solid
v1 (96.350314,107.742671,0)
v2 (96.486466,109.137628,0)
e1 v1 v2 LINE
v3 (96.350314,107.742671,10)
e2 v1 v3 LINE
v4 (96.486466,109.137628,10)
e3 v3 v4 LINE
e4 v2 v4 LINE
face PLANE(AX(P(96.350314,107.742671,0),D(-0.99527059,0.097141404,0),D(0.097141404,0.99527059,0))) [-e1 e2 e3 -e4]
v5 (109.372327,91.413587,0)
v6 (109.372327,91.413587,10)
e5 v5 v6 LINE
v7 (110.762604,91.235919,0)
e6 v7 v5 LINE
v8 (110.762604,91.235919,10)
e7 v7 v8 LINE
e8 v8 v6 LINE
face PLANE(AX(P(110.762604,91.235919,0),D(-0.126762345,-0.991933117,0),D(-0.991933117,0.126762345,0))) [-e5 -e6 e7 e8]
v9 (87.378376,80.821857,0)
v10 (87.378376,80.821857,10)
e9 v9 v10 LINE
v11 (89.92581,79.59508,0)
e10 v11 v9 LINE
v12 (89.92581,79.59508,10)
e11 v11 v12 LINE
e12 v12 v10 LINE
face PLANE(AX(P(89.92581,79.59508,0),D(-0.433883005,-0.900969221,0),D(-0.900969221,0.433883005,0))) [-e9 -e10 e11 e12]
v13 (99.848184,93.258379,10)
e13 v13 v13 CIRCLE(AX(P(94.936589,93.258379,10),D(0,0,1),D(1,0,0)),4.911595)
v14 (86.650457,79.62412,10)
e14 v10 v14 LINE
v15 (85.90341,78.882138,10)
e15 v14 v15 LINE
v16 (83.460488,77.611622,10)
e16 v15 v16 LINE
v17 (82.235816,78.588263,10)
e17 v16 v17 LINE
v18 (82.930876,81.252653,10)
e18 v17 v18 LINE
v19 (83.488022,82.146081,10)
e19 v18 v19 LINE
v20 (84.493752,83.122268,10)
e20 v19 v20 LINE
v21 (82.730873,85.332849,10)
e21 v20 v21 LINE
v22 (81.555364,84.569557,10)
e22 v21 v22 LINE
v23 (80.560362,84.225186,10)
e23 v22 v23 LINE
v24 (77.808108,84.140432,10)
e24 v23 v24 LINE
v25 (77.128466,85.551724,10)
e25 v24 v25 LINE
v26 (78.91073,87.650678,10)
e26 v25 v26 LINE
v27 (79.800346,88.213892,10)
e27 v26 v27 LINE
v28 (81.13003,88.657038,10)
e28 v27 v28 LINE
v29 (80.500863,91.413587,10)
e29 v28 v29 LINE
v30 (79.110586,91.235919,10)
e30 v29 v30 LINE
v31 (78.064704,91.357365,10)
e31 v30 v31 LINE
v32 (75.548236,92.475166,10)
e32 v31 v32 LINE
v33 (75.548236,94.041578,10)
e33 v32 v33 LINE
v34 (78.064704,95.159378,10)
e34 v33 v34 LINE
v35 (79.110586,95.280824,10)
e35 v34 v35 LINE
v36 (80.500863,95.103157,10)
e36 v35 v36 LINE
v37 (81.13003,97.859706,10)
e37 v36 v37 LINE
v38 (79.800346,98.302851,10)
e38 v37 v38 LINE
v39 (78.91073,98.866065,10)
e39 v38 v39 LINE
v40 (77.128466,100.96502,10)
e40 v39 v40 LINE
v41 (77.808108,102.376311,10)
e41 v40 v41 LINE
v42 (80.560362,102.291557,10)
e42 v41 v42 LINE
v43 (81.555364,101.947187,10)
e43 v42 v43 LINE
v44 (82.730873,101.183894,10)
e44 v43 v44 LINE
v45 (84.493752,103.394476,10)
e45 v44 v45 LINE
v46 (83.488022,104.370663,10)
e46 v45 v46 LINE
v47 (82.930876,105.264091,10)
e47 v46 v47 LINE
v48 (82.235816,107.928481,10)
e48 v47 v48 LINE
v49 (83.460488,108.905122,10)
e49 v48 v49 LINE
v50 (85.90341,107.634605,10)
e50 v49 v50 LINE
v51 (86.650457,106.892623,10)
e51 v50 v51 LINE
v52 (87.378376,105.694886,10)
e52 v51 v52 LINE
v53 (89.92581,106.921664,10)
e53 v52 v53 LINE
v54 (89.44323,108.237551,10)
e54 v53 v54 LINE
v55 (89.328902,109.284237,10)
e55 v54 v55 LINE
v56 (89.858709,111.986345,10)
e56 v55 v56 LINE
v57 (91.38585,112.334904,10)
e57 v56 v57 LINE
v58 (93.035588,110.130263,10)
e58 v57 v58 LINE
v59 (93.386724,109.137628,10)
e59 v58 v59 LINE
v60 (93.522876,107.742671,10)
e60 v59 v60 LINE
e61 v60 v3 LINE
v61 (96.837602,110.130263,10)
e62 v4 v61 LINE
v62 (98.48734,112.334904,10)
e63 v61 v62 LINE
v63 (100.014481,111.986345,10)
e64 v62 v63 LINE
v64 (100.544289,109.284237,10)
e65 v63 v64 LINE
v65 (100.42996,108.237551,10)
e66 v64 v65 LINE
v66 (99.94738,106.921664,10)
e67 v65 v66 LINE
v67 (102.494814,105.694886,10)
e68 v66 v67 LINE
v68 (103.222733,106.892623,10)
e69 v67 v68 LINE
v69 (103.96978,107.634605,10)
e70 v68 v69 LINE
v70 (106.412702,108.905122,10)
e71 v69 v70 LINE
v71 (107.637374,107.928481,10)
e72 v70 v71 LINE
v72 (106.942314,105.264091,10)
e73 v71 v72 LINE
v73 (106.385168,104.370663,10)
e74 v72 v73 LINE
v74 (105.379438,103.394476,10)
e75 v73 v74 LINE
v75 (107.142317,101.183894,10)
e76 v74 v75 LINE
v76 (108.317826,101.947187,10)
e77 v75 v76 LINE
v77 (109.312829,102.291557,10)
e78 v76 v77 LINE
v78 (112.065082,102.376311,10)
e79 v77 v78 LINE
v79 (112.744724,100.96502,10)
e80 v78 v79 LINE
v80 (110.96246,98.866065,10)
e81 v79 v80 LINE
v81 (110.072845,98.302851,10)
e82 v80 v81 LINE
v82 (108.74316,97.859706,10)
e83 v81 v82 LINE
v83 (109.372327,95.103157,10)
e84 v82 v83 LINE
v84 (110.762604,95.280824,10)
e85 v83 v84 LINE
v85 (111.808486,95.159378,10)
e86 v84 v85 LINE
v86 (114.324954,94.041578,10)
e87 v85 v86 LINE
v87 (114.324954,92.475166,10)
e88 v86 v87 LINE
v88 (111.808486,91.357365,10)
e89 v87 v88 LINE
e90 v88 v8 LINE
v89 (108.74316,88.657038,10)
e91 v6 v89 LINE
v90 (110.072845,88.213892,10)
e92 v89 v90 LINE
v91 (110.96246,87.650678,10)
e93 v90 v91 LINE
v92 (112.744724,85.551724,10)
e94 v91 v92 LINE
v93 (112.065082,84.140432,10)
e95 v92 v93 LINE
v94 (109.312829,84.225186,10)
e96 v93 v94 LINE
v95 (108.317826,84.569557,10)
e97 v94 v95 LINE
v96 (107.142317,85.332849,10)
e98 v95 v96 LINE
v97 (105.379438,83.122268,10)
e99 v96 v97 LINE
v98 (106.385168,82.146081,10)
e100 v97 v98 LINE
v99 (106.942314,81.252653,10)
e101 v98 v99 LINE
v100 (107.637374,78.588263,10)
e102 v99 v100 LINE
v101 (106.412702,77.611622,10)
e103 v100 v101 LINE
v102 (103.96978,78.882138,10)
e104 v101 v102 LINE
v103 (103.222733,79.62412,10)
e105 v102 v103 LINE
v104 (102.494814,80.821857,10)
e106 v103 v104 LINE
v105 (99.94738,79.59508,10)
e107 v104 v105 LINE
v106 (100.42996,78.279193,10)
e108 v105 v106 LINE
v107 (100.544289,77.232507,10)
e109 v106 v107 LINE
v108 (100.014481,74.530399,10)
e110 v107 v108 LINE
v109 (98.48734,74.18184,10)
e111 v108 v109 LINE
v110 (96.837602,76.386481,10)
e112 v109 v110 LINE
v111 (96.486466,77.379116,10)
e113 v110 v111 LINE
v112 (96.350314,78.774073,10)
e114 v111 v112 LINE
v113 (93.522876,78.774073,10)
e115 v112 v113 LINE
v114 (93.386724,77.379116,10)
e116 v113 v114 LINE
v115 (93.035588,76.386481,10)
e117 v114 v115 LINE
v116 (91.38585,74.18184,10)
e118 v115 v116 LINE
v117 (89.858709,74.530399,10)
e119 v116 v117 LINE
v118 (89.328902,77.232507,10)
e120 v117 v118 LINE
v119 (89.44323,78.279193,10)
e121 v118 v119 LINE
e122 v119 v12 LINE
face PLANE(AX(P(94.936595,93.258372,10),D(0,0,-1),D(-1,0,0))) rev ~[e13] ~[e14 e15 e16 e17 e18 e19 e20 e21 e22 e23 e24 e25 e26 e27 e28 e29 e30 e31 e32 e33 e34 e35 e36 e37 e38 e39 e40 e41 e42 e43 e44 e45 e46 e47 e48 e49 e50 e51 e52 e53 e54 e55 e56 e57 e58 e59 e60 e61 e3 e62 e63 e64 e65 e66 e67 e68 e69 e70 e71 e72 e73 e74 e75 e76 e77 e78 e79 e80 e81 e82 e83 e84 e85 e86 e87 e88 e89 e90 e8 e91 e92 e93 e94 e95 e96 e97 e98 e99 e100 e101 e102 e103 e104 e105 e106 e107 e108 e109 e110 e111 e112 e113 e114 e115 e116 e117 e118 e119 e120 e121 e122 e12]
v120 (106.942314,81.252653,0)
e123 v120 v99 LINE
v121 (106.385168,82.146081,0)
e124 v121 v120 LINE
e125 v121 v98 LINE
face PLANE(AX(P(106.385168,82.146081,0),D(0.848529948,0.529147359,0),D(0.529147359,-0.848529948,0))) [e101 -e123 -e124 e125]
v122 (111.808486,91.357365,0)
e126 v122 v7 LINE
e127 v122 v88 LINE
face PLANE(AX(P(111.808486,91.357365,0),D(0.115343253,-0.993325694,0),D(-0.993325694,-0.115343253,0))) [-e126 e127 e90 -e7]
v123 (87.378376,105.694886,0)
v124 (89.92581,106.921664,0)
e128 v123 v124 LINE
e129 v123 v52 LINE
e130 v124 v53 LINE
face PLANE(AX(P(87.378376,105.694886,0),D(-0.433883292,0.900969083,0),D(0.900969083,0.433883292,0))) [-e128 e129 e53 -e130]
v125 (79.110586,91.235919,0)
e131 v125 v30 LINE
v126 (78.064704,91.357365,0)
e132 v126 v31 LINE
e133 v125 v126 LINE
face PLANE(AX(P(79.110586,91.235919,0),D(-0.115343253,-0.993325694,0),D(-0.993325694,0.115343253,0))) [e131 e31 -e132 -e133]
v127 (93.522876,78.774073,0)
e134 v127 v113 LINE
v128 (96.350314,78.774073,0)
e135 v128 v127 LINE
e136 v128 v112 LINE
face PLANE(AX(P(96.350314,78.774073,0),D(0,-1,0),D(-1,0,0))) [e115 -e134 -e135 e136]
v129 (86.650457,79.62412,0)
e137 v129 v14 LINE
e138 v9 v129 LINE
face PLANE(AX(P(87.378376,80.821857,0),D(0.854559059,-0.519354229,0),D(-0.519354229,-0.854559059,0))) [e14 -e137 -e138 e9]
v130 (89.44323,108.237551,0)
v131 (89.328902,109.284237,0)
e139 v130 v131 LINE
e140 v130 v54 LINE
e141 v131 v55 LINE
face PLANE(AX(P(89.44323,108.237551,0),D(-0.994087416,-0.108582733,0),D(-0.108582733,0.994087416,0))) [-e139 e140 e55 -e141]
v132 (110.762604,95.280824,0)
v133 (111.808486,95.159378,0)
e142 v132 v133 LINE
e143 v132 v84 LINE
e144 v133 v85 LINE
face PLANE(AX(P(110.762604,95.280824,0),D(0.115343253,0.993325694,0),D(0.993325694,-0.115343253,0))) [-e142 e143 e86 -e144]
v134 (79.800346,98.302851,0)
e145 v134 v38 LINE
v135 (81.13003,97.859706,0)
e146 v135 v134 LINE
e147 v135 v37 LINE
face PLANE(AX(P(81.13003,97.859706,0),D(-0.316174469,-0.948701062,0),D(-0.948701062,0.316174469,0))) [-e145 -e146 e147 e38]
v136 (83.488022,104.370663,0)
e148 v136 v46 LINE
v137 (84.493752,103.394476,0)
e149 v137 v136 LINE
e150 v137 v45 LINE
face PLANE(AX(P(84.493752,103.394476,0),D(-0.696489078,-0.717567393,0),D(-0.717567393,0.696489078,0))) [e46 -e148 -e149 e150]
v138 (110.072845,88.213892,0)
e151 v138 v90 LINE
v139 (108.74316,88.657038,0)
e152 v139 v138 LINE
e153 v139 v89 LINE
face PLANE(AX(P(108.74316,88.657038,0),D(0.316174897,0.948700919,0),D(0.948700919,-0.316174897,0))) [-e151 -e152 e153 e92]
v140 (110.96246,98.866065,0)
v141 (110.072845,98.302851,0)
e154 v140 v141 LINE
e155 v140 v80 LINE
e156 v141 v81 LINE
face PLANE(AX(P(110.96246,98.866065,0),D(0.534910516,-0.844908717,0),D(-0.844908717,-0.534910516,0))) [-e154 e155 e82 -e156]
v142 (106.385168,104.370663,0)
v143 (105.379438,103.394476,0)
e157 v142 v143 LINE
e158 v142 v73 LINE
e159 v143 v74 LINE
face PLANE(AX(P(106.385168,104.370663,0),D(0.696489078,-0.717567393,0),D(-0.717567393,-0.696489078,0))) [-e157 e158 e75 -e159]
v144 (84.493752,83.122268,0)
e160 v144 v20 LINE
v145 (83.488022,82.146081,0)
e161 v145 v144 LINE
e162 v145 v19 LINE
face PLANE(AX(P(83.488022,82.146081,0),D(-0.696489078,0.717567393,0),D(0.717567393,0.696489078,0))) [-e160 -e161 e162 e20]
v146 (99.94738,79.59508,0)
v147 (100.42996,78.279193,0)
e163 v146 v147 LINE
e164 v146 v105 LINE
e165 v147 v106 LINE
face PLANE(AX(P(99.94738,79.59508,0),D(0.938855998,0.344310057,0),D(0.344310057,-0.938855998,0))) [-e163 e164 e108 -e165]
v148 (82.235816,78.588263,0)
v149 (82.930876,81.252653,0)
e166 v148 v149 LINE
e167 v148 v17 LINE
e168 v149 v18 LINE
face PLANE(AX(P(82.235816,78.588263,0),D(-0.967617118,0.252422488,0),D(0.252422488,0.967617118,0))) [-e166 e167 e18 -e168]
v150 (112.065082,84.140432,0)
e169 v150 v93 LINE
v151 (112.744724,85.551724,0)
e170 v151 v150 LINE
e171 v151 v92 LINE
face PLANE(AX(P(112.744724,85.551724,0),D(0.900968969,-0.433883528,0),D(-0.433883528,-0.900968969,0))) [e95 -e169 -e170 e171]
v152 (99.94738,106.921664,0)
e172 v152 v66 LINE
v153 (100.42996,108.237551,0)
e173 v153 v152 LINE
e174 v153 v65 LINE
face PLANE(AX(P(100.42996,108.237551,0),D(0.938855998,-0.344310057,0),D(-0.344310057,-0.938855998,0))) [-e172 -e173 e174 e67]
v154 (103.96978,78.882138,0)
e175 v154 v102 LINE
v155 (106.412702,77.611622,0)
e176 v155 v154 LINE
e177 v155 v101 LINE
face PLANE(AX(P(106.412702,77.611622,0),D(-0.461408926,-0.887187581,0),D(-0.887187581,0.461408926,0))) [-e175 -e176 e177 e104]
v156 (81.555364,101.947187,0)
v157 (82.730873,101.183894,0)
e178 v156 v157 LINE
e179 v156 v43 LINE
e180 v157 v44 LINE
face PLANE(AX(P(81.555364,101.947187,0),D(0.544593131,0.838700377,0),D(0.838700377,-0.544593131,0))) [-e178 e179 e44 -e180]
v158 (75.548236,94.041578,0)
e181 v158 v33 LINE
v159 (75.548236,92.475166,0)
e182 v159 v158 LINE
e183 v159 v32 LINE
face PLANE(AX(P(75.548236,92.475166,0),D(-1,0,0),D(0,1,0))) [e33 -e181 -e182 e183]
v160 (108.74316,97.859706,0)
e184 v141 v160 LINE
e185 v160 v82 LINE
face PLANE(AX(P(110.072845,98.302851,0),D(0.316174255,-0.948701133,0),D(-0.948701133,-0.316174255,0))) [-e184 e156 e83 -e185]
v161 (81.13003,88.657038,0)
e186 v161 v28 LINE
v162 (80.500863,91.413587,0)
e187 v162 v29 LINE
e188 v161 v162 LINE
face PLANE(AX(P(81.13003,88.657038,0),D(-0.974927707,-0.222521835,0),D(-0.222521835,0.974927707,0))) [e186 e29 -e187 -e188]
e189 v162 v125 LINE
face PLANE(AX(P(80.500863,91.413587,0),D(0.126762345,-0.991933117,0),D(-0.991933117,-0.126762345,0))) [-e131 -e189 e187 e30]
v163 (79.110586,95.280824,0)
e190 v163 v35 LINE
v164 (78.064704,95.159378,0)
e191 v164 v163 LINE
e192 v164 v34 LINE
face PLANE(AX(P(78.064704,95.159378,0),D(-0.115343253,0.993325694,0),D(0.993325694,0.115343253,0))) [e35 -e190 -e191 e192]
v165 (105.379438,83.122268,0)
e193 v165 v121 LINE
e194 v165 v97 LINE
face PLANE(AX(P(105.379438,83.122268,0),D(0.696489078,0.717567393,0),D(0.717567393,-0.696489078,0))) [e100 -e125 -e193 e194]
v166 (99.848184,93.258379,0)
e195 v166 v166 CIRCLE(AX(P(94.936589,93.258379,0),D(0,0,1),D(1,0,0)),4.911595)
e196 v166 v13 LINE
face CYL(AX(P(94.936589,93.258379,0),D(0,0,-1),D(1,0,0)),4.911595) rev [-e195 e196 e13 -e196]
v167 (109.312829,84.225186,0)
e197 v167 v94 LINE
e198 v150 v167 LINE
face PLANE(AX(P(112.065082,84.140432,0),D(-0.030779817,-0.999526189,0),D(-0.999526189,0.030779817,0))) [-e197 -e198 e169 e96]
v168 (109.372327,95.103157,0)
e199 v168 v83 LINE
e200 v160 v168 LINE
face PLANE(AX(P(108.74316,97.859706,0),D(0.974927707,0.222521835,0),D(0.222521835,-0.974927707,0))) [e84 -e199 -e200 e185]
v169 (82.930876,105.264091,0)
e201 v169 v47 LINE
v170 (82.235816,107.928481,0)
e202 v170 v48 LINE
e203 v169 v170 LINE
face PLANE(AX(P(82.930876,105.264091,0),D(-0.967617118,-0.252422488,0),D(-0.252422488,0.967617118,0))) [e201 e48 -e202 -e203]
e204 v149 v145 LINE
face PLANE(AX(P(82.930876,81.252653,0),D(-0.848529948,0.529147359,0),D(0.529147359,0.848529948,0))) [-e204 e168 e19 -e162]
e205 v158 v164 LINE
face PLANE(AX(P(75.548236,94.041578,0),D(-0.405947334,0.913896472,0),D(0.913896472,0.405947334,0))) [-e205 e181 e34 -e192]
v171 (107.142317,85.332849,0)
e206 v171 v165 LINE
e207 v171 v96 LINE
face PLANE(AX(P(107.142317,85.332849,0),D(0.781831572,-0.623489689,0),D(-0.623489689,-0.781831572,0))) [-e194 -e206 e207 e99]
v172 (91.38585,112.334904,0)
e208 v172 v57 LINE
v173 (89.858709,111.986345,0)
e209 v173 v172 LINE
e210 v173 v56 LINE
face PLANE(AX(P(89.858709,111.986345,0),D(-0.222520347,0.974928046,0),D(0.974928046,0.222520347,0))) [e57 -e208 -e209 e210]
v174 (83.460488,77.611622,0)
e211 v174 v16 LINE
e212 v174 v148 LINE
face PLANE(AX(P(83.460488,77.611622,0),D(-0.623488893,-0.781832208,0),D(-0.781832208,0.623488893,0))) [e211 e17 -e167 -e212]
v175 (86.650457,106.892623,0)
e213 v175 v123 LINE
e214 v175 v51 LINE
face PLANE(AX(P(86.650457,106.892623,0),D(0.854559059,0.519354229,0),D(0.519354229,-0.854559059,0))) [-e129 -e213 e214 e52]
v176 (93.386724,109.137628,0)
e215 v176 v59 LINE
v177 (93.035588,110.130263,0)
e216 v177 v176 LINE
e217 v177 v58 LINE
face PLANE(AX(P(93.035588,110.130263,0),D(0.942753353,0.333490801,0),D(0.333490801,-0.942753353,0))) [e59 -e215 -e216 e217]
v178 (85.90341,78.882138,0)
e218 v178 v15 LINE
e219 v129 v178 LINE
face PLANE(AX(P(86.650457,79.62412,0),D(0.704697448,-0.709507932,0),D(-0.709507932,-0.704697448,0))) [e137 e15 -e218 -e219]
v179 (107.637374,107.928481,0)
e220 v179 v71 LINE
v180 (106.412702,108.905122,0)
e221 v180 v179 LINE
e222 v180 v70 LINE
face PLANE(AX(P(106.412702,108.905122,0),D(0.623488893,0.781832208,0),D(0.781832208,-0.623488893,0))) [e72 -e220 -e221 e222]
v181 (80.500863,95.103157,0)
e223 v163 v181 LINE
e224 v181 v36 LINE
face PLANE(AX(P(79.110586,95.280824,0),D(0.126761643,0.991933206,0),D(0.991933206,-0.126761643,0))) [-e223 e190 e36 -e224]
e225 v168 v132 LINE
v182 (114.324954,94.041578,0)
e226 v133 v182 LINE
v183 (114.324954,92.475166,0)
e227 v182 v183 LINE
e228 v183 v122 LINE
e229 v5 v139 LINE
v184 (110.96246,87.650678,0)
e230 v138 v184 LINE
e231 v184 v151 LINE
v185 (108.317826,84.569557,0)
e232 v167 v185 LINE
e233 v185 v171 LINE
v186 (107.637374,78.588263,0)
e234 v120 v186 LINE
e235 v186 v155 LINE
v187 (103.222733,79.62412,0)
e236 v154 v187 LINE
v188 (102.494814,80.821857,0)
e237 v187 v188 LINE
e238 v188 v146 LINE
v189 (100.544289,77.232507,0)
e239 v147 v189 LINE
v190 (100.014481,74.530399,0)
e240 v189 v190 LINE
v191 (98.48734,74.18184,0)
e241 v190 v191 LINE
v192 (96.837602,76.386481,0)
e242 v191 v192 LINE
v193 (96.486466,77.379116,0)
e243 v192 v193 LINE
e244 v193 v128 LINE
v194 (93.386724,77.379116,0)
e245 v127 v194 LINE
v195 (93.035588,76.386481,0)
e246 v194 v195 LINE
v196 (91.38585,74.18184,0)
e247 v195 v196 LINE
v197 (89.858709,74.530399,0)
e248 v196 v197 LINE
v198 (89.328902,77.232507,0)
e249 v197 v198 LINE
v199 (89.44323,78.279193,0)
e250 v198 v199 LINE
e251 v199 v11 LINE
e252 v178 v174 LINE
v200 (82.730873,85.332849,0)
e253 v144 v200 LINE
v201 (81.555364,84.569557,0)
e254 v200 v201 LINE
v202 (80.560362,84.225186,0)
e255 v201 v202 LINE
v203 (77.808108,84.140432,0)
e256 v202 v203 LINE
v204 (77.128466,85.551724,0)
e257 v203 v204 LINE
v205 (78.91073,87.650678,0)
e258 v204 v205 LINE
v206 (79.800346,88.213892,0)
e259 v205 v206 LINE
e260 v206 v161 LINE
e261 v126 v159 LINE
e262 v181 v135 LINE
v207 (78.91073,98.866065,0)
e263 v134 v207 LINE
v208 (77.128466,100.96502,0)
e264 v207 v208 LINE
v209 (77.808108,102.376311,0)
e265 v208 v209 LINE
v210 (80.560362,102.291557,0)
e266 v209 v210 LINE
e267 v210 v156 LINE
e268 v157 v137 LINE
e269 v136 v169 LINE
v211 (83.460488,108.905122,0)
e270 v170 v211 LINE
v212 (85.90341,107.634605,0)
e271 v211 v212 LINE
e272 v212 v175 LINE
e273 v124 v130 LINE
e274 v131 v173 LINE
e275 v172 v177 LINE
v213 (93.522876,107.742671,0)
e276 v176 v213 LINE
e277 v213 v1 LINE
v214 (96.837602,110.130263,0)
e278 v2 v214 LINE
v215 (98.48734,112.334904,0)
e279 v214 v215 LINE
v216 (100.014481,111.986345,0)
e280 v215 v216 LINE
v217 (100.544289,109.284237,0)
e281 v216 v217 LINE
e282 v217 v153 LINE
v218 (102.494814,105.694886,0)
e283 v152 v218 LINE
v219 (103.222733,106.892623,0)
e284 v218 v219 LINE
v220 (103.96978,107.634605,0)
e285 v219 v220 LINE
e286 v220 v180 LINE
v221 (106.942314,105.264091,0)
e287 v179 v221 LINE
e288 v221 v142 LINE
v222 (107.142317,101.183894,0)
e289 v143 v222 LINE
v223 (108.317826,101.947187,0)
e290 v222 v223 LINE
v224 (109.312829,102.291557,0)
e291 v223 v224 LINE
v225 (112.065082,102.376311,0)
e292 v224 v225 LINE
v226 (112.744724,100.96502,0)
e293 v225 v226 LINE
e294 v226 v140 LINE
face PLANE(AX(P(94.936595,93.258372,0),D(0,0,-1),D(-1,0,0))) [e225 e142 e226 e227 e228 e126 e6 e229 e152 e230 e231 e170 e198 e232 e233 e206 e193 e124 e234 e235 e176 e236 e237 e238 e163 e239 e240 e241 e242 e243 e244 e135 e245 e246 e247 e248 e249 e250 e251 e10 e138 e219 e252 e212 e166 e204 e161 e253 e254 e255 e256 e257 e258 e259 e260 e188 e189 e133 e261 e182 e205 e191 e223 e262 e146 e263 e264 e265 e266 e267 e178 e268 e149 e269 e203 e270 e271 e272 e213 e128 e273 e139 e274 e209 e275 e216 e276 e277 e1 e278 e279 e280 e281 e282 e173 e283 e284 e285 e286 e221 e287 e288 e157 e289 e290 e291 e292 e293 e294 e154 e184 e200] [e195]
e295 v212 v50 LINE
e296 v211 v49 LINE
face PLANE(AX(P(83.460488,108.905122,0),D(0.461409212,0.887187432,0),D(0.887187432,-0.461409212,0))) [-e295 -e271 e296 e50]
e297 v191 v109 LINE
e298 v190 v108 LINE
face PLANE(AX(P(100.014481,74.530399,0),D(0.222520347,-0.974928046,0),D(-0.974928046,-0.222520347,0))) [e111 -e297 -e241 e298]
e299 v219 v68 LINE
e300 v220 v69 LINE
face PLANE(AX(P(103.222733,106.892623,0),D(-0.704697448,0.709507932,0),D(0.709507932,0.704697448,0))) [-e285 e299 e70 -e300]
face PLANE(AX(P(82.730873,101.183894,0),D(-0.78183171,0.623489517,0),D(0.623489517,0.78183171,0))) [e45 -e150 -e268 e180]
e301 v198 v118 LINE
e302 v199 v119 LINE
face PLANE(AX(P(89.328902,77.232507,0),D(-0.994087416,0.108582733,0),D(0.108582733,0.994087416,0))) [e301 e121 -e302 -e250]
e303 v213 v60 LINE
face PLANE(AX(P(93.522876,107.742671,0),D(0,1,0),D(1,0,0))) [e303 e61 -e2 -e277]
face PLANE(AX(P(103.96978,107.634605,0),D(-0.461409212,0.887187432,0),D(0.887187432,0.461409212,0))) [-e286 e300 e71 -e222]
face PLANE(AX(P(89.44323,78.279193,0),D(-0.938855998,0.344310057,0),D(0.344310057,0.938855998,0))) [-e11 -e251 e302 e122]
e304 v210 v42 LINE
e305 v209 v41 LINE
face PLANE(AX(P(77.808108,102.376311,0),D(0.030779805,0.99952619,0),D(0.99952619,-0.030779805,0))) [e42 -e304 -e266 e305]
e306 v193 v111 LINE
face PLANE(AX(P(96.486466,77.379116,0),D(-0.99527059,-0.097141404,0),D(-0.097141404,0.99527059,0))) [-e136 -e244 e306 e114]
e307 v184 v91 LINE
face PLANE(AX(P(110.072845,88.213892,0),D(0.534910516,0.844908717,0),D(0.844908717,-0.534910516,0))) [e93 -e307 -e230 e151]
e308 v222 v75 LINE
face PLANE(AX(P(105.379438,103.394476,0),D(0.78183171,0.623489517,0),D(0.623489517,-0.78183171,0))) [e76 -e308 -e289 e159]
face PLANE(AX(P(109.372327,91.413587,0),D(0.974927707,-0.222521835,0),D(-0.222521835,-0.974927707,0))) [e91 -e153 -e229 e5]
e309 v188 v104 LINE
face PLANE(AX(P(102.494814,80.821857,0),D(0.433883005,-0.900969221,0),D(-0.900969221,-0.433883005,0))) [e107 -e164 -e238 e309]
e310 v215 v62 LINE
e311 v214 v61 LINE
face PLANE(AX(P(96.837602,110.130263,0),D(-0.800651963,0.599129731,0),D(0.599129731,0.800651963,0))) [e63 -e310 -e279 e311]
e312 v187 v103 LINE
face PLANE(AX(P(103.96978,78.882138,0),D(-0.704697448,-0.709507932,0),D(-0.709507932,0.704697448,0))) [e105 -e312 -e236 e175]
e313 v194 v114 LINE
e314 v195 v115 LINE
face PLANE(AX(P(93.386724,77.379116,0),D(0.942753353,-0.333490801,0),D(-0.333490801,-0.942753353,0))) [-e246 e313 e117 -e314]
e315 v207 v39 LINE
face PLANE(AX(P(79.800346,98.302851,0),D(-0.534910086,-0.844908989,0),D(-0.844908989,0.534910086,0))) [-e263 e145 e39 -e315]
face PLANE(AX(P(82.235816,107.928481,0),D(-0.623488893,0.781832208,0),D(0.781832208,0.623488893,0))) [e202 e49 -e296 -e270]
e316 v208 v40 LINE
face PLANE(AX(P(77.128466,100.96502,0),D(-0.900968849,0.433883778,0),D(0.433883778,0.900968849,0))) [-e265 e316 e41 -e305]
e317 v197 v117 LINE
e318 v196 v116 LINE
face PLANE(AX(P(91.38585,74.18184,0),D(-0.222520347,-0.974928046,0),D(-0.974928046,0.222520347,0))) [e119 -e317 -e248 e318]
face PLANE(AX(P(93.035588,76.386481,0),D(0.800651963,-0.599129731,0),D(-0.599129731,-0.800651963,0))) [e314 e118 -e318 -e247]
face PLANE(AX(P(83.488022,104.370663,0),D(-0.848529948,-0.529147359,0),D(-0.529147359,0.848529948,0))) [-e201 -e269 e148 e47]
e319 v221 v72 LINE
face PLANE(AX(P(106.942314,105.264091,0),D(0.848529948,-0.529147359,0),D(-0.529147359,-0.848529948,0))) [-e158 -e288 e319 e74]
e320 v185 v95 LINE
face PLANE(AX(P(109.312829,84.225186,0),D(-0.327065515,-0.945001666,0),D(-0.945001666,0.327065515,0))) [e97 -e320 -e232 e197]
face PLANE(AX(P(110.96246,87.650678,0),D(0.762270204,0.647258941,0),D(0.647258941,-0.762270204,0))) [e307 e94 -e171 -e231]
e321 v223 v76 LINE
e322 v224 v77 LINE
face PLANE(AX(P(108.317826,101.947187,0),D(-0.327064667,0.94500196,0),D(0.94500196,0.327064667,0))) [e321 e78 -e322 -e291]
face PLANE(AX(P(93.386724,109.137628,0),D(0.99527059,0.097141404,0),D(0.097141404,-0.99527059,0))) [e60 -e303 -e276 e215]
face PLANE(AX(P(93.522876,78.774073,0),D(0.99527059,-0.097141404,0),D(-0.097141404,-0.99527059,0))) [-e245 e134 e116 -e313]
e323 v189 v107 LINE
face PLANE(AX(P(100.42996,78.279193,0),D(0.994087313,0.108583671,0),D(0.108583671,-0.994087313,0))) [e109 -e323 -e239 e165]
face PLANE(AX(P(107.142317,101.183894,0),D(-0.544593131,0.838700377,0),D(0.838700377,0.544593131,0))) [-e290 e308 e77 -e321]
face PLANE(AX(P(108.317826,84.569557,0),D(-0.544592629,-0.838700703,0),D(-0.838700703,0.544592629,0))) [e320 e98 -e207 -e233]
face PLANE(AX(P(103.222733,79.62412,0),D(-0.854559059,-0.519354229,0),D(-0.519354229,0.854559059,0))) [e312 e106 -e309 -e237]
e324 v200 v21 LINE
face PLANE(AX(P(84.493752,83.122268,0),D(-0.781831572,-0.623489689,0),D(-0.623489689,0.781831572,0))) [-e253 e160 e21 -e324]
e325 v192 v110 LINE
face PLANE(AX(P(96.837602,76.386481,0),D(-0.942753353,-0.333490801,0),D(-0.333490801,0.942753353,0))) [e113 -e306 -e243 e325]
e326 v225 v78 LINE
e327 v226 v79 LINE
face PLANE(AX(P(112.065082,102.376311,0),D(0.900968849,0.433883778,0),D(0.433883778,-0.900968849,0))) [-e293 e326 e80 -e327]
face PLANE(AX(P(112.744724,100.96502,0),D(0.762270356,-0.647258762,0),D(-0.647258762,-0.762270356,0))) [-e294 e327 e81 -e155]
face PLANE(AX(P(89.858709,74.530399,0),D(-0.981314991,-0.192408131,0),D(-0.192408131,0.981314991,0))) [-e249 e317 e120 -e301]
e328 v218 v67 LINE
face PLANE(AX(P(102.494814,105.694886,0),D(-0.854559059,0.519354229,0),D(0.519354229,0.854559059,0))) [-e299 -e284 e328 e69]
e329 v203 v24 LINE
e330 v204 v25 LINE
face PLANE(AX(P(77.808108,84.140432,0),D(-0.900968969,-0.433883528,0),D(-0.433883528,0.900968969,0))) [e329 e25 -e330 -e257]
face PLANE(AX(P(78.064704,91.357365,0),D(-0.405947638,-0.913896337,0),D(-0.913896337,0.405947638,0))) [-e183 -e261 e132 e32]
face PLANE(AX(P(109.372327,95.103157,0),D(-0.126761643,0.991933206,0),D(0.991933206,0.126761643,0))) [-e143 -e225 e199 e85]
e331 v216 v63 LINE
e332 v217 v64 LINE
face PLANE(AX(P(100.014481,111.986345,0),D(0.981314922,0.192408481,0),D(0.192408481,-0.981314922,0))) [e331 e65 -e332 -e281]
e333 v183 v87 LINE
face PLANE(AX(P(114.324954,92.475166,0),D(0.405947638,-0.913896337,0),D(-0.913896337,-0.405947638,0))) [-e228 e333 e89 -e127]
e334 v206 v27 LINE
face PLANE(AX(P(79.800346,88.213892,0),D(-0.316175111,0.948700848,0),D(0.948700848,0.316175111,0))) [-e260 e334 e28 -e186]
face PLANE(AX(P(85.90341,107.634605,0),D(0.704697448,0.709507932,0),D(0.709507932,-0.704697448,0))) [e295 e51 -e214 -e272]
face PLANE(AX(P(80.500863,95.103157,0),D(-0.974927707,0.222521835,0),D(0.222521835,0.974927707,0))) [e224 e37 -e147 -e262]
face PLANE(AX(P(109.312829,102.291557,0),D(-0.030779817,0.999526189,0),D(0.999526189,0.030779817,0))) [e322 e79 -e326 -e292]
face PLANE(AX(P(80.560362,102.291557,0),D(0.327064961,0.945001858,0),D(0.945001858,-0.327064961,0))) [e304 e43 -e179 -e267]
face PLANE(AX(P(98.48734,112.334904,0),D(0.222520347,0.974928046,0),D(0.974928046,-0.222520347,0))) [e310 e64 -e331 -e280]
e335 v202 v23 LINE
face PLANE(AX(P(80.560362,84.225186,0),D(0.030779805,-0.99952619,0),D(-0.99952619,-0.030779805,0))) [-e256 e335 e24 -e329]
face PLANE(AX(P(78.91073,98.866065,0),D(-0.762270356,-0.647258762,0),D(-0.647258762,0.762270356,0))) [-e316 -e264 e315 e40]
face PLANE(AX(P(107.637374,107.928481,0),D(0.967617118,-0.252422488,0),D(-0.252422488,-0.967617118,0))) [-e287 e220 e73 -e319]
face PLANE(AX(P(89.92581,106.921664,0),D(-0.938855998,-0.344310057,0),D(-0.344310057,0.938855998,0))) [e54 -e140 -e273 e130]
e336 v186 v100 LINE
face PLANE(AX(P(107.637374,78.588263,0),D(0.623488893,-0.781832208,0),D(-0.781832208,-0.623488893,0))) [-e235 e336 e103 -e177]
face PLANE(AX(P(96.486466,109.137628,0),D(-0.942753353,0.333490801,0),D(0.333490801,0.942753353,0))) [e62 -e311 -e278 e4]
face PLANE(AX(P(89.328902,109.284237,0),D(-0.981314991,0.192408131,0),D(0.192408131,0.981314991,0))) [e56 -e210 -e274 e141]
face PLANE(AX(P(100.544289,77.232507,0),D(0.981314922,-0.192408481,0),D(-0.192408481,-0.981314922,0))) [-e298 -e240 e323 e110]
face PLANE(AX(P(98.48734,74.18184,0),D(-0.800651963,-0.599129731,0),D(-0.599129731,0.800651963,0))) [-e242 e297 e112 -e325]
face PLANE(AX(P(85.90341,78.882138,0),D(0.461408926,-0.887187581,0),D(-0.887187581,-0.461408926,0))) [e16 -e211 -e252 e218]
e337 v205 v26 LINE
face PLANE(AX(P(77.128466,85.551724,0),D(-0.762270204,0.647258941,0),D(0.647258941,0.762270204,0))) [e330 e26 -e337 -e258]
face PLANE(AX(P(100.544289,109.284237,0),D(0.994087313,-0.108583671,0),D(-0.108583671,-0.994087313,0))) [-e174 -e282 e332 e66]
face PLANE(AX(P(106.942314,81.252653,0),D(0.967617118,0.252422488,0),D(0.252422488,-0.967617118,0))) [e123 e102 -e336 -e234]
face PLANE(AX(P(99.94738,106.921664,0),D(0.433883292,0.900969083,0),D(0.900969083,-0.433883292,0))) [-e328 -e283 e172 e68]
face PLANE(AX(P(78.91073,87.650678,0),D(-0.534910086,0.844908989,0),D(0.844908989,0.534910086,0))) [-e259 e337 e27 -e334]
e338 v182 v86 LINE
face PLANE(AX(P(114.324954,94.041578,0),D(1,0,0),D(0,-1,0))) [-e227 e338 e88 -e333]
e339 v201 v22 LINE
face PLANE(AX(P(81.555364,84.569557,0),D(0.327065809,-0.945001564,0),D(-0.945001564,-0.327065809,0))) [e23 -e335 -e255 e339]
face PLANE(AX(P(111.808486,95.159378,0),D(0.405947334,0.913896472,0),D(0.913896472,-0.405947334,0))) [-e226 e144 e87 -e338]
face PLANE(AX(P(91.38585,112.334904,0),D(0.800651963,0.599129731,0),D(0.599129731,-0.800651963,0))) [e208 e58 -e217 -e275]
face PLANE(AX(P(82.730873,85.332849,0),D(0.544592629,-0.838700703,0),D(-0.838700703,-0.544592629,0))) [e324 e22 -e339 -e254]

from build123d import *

# Parameters (mm, degrees)
MODEL_R             = 4.911595
BOSS_EXTRUDE1_DEPTH = 10


with BuildPart() as part:
    # Model → Boss-Extrude1 (new body)
    with BuildSketch(Plane.XY):
        Polygon((109.372327, 95.103157), (110.762604, 95.280824), (111.808486, 95.159378), (114.324954, 94.041578), (114.324954, 92.475166), (111.808486, 91.357365), (110.762604, 91.235919), (109.372327, 91.413587), (108.74316, 88.657038), (110.072845, 88.213892), (110.96246, 87.650678), (112.744724, 85.551724), (112.065082, 84.140432), (109.312829, 84.225186), (108.317826, 84.569557), (107.142317, 85.332849), (105.379438, 83.122268), (106.385168, 82.146081), (106.942314, 81.252653), (107.637374, 78.588263), (106.412702, 77.611622), (103.96978, 78.882138), (103.222733, 79.62412), (102.494814, 80.821857), (99.94738, 79.59508), (100.42996, 78.279193), (100.544289, 77.232507), (100.014481, 74.530399), (98.48734, 74.18184), (96.837602, 76.386481), (96.486466, 77.379116), (96.350314, 78.774073), (93.522876, 78.774073), (93.386724, 77.379116), (93.035588, 76.386481), (91.38585, 74.18184), (89.858709, 74.530399), (89.328902, 77.232507), (89.44323, 78.279193), (89.92581, 79.59508), (87.378376, 80.821857), (86.650457, 79.62412), (85.90341, 78.882138), (83.460488, 77.611622), (82.235816, 78.588263), (82.930876, 81.252653), (83.488022, 82.146081), (84.493752, 83.122268), (82.730873, 85.332849), (81.555364, 84.569557), (80.560362, 84.225186), (77.808108, 84.140432), (77.128466, 85.551724), (78.91073, 87.650678), (79.800346, 88.213892), (81.13003, 88.657038), (80.500863, 91.413587), (79.110586, 91.235919), (78.064704, 91.357365), (75.548236, 92.475166), (75.548236, 94.041578), (78.064704, 95.159378), (79.110586, 95.280824), (80.500863, 95.103157), (81.13003, 97.859706), (79.800346, 98.302851), (78.91073, 98.866065), (77.128466, 100.96502), (77.808108, 102.376311), (80.560362, 102.291557), (81.555364, 101.947187), (82.730873, 101.183894), (84.493752, 103.394476), (83.488022, 104.370663), (82.930876, 105.264091), (82.235816, 107.928481), (83.460488, 108.905122), (85.90341, 107.634605), (86.650457, 106.892623), (87.378376, 105.694886), (89.92581, 106.921664), (89.44323, 108.237551), (89.328902, 109.284237), (89.858709, 111.986345), (91.38585, 112.334904), (93.035588, 110.130263), (93.386724, 109.137628), (93.522876, 107.742671), (96.350314, 107.742671), (96.486466, 109.137628), (96.837602, 110.130263), (98.48734, 112.334904), (100.014481, 111.986345), (100.544289, 109.284237), (100.42996, 108.237551), (99.94738, 106.921664), (102.494814, 105.694886), (103.222733, 106.892623), (103.96978, 107.634605), (106.412702, 108.905122), (107.637374, 107.928481), (106.942314, 105.264091), (106.385168, 104.370663), (105.379438, 103.394476), (107.142317, 101.183894), (108.317826, 101.947187), (109.312829, 102.291557), (112.065082, 102.376311), (112.744724, 100.96502), (110.96246, 98.866065), (110.072845, 98.302851), (108.74316, 97.859706), align=None)
        with Locations((94.936589262, 93.258379)):
            Circle(MODEL_R, mode=Mode.SUBTRACT)
    extrude(amount=BOSS_EXTRUDE1_DEPTH)


solid = part.part
